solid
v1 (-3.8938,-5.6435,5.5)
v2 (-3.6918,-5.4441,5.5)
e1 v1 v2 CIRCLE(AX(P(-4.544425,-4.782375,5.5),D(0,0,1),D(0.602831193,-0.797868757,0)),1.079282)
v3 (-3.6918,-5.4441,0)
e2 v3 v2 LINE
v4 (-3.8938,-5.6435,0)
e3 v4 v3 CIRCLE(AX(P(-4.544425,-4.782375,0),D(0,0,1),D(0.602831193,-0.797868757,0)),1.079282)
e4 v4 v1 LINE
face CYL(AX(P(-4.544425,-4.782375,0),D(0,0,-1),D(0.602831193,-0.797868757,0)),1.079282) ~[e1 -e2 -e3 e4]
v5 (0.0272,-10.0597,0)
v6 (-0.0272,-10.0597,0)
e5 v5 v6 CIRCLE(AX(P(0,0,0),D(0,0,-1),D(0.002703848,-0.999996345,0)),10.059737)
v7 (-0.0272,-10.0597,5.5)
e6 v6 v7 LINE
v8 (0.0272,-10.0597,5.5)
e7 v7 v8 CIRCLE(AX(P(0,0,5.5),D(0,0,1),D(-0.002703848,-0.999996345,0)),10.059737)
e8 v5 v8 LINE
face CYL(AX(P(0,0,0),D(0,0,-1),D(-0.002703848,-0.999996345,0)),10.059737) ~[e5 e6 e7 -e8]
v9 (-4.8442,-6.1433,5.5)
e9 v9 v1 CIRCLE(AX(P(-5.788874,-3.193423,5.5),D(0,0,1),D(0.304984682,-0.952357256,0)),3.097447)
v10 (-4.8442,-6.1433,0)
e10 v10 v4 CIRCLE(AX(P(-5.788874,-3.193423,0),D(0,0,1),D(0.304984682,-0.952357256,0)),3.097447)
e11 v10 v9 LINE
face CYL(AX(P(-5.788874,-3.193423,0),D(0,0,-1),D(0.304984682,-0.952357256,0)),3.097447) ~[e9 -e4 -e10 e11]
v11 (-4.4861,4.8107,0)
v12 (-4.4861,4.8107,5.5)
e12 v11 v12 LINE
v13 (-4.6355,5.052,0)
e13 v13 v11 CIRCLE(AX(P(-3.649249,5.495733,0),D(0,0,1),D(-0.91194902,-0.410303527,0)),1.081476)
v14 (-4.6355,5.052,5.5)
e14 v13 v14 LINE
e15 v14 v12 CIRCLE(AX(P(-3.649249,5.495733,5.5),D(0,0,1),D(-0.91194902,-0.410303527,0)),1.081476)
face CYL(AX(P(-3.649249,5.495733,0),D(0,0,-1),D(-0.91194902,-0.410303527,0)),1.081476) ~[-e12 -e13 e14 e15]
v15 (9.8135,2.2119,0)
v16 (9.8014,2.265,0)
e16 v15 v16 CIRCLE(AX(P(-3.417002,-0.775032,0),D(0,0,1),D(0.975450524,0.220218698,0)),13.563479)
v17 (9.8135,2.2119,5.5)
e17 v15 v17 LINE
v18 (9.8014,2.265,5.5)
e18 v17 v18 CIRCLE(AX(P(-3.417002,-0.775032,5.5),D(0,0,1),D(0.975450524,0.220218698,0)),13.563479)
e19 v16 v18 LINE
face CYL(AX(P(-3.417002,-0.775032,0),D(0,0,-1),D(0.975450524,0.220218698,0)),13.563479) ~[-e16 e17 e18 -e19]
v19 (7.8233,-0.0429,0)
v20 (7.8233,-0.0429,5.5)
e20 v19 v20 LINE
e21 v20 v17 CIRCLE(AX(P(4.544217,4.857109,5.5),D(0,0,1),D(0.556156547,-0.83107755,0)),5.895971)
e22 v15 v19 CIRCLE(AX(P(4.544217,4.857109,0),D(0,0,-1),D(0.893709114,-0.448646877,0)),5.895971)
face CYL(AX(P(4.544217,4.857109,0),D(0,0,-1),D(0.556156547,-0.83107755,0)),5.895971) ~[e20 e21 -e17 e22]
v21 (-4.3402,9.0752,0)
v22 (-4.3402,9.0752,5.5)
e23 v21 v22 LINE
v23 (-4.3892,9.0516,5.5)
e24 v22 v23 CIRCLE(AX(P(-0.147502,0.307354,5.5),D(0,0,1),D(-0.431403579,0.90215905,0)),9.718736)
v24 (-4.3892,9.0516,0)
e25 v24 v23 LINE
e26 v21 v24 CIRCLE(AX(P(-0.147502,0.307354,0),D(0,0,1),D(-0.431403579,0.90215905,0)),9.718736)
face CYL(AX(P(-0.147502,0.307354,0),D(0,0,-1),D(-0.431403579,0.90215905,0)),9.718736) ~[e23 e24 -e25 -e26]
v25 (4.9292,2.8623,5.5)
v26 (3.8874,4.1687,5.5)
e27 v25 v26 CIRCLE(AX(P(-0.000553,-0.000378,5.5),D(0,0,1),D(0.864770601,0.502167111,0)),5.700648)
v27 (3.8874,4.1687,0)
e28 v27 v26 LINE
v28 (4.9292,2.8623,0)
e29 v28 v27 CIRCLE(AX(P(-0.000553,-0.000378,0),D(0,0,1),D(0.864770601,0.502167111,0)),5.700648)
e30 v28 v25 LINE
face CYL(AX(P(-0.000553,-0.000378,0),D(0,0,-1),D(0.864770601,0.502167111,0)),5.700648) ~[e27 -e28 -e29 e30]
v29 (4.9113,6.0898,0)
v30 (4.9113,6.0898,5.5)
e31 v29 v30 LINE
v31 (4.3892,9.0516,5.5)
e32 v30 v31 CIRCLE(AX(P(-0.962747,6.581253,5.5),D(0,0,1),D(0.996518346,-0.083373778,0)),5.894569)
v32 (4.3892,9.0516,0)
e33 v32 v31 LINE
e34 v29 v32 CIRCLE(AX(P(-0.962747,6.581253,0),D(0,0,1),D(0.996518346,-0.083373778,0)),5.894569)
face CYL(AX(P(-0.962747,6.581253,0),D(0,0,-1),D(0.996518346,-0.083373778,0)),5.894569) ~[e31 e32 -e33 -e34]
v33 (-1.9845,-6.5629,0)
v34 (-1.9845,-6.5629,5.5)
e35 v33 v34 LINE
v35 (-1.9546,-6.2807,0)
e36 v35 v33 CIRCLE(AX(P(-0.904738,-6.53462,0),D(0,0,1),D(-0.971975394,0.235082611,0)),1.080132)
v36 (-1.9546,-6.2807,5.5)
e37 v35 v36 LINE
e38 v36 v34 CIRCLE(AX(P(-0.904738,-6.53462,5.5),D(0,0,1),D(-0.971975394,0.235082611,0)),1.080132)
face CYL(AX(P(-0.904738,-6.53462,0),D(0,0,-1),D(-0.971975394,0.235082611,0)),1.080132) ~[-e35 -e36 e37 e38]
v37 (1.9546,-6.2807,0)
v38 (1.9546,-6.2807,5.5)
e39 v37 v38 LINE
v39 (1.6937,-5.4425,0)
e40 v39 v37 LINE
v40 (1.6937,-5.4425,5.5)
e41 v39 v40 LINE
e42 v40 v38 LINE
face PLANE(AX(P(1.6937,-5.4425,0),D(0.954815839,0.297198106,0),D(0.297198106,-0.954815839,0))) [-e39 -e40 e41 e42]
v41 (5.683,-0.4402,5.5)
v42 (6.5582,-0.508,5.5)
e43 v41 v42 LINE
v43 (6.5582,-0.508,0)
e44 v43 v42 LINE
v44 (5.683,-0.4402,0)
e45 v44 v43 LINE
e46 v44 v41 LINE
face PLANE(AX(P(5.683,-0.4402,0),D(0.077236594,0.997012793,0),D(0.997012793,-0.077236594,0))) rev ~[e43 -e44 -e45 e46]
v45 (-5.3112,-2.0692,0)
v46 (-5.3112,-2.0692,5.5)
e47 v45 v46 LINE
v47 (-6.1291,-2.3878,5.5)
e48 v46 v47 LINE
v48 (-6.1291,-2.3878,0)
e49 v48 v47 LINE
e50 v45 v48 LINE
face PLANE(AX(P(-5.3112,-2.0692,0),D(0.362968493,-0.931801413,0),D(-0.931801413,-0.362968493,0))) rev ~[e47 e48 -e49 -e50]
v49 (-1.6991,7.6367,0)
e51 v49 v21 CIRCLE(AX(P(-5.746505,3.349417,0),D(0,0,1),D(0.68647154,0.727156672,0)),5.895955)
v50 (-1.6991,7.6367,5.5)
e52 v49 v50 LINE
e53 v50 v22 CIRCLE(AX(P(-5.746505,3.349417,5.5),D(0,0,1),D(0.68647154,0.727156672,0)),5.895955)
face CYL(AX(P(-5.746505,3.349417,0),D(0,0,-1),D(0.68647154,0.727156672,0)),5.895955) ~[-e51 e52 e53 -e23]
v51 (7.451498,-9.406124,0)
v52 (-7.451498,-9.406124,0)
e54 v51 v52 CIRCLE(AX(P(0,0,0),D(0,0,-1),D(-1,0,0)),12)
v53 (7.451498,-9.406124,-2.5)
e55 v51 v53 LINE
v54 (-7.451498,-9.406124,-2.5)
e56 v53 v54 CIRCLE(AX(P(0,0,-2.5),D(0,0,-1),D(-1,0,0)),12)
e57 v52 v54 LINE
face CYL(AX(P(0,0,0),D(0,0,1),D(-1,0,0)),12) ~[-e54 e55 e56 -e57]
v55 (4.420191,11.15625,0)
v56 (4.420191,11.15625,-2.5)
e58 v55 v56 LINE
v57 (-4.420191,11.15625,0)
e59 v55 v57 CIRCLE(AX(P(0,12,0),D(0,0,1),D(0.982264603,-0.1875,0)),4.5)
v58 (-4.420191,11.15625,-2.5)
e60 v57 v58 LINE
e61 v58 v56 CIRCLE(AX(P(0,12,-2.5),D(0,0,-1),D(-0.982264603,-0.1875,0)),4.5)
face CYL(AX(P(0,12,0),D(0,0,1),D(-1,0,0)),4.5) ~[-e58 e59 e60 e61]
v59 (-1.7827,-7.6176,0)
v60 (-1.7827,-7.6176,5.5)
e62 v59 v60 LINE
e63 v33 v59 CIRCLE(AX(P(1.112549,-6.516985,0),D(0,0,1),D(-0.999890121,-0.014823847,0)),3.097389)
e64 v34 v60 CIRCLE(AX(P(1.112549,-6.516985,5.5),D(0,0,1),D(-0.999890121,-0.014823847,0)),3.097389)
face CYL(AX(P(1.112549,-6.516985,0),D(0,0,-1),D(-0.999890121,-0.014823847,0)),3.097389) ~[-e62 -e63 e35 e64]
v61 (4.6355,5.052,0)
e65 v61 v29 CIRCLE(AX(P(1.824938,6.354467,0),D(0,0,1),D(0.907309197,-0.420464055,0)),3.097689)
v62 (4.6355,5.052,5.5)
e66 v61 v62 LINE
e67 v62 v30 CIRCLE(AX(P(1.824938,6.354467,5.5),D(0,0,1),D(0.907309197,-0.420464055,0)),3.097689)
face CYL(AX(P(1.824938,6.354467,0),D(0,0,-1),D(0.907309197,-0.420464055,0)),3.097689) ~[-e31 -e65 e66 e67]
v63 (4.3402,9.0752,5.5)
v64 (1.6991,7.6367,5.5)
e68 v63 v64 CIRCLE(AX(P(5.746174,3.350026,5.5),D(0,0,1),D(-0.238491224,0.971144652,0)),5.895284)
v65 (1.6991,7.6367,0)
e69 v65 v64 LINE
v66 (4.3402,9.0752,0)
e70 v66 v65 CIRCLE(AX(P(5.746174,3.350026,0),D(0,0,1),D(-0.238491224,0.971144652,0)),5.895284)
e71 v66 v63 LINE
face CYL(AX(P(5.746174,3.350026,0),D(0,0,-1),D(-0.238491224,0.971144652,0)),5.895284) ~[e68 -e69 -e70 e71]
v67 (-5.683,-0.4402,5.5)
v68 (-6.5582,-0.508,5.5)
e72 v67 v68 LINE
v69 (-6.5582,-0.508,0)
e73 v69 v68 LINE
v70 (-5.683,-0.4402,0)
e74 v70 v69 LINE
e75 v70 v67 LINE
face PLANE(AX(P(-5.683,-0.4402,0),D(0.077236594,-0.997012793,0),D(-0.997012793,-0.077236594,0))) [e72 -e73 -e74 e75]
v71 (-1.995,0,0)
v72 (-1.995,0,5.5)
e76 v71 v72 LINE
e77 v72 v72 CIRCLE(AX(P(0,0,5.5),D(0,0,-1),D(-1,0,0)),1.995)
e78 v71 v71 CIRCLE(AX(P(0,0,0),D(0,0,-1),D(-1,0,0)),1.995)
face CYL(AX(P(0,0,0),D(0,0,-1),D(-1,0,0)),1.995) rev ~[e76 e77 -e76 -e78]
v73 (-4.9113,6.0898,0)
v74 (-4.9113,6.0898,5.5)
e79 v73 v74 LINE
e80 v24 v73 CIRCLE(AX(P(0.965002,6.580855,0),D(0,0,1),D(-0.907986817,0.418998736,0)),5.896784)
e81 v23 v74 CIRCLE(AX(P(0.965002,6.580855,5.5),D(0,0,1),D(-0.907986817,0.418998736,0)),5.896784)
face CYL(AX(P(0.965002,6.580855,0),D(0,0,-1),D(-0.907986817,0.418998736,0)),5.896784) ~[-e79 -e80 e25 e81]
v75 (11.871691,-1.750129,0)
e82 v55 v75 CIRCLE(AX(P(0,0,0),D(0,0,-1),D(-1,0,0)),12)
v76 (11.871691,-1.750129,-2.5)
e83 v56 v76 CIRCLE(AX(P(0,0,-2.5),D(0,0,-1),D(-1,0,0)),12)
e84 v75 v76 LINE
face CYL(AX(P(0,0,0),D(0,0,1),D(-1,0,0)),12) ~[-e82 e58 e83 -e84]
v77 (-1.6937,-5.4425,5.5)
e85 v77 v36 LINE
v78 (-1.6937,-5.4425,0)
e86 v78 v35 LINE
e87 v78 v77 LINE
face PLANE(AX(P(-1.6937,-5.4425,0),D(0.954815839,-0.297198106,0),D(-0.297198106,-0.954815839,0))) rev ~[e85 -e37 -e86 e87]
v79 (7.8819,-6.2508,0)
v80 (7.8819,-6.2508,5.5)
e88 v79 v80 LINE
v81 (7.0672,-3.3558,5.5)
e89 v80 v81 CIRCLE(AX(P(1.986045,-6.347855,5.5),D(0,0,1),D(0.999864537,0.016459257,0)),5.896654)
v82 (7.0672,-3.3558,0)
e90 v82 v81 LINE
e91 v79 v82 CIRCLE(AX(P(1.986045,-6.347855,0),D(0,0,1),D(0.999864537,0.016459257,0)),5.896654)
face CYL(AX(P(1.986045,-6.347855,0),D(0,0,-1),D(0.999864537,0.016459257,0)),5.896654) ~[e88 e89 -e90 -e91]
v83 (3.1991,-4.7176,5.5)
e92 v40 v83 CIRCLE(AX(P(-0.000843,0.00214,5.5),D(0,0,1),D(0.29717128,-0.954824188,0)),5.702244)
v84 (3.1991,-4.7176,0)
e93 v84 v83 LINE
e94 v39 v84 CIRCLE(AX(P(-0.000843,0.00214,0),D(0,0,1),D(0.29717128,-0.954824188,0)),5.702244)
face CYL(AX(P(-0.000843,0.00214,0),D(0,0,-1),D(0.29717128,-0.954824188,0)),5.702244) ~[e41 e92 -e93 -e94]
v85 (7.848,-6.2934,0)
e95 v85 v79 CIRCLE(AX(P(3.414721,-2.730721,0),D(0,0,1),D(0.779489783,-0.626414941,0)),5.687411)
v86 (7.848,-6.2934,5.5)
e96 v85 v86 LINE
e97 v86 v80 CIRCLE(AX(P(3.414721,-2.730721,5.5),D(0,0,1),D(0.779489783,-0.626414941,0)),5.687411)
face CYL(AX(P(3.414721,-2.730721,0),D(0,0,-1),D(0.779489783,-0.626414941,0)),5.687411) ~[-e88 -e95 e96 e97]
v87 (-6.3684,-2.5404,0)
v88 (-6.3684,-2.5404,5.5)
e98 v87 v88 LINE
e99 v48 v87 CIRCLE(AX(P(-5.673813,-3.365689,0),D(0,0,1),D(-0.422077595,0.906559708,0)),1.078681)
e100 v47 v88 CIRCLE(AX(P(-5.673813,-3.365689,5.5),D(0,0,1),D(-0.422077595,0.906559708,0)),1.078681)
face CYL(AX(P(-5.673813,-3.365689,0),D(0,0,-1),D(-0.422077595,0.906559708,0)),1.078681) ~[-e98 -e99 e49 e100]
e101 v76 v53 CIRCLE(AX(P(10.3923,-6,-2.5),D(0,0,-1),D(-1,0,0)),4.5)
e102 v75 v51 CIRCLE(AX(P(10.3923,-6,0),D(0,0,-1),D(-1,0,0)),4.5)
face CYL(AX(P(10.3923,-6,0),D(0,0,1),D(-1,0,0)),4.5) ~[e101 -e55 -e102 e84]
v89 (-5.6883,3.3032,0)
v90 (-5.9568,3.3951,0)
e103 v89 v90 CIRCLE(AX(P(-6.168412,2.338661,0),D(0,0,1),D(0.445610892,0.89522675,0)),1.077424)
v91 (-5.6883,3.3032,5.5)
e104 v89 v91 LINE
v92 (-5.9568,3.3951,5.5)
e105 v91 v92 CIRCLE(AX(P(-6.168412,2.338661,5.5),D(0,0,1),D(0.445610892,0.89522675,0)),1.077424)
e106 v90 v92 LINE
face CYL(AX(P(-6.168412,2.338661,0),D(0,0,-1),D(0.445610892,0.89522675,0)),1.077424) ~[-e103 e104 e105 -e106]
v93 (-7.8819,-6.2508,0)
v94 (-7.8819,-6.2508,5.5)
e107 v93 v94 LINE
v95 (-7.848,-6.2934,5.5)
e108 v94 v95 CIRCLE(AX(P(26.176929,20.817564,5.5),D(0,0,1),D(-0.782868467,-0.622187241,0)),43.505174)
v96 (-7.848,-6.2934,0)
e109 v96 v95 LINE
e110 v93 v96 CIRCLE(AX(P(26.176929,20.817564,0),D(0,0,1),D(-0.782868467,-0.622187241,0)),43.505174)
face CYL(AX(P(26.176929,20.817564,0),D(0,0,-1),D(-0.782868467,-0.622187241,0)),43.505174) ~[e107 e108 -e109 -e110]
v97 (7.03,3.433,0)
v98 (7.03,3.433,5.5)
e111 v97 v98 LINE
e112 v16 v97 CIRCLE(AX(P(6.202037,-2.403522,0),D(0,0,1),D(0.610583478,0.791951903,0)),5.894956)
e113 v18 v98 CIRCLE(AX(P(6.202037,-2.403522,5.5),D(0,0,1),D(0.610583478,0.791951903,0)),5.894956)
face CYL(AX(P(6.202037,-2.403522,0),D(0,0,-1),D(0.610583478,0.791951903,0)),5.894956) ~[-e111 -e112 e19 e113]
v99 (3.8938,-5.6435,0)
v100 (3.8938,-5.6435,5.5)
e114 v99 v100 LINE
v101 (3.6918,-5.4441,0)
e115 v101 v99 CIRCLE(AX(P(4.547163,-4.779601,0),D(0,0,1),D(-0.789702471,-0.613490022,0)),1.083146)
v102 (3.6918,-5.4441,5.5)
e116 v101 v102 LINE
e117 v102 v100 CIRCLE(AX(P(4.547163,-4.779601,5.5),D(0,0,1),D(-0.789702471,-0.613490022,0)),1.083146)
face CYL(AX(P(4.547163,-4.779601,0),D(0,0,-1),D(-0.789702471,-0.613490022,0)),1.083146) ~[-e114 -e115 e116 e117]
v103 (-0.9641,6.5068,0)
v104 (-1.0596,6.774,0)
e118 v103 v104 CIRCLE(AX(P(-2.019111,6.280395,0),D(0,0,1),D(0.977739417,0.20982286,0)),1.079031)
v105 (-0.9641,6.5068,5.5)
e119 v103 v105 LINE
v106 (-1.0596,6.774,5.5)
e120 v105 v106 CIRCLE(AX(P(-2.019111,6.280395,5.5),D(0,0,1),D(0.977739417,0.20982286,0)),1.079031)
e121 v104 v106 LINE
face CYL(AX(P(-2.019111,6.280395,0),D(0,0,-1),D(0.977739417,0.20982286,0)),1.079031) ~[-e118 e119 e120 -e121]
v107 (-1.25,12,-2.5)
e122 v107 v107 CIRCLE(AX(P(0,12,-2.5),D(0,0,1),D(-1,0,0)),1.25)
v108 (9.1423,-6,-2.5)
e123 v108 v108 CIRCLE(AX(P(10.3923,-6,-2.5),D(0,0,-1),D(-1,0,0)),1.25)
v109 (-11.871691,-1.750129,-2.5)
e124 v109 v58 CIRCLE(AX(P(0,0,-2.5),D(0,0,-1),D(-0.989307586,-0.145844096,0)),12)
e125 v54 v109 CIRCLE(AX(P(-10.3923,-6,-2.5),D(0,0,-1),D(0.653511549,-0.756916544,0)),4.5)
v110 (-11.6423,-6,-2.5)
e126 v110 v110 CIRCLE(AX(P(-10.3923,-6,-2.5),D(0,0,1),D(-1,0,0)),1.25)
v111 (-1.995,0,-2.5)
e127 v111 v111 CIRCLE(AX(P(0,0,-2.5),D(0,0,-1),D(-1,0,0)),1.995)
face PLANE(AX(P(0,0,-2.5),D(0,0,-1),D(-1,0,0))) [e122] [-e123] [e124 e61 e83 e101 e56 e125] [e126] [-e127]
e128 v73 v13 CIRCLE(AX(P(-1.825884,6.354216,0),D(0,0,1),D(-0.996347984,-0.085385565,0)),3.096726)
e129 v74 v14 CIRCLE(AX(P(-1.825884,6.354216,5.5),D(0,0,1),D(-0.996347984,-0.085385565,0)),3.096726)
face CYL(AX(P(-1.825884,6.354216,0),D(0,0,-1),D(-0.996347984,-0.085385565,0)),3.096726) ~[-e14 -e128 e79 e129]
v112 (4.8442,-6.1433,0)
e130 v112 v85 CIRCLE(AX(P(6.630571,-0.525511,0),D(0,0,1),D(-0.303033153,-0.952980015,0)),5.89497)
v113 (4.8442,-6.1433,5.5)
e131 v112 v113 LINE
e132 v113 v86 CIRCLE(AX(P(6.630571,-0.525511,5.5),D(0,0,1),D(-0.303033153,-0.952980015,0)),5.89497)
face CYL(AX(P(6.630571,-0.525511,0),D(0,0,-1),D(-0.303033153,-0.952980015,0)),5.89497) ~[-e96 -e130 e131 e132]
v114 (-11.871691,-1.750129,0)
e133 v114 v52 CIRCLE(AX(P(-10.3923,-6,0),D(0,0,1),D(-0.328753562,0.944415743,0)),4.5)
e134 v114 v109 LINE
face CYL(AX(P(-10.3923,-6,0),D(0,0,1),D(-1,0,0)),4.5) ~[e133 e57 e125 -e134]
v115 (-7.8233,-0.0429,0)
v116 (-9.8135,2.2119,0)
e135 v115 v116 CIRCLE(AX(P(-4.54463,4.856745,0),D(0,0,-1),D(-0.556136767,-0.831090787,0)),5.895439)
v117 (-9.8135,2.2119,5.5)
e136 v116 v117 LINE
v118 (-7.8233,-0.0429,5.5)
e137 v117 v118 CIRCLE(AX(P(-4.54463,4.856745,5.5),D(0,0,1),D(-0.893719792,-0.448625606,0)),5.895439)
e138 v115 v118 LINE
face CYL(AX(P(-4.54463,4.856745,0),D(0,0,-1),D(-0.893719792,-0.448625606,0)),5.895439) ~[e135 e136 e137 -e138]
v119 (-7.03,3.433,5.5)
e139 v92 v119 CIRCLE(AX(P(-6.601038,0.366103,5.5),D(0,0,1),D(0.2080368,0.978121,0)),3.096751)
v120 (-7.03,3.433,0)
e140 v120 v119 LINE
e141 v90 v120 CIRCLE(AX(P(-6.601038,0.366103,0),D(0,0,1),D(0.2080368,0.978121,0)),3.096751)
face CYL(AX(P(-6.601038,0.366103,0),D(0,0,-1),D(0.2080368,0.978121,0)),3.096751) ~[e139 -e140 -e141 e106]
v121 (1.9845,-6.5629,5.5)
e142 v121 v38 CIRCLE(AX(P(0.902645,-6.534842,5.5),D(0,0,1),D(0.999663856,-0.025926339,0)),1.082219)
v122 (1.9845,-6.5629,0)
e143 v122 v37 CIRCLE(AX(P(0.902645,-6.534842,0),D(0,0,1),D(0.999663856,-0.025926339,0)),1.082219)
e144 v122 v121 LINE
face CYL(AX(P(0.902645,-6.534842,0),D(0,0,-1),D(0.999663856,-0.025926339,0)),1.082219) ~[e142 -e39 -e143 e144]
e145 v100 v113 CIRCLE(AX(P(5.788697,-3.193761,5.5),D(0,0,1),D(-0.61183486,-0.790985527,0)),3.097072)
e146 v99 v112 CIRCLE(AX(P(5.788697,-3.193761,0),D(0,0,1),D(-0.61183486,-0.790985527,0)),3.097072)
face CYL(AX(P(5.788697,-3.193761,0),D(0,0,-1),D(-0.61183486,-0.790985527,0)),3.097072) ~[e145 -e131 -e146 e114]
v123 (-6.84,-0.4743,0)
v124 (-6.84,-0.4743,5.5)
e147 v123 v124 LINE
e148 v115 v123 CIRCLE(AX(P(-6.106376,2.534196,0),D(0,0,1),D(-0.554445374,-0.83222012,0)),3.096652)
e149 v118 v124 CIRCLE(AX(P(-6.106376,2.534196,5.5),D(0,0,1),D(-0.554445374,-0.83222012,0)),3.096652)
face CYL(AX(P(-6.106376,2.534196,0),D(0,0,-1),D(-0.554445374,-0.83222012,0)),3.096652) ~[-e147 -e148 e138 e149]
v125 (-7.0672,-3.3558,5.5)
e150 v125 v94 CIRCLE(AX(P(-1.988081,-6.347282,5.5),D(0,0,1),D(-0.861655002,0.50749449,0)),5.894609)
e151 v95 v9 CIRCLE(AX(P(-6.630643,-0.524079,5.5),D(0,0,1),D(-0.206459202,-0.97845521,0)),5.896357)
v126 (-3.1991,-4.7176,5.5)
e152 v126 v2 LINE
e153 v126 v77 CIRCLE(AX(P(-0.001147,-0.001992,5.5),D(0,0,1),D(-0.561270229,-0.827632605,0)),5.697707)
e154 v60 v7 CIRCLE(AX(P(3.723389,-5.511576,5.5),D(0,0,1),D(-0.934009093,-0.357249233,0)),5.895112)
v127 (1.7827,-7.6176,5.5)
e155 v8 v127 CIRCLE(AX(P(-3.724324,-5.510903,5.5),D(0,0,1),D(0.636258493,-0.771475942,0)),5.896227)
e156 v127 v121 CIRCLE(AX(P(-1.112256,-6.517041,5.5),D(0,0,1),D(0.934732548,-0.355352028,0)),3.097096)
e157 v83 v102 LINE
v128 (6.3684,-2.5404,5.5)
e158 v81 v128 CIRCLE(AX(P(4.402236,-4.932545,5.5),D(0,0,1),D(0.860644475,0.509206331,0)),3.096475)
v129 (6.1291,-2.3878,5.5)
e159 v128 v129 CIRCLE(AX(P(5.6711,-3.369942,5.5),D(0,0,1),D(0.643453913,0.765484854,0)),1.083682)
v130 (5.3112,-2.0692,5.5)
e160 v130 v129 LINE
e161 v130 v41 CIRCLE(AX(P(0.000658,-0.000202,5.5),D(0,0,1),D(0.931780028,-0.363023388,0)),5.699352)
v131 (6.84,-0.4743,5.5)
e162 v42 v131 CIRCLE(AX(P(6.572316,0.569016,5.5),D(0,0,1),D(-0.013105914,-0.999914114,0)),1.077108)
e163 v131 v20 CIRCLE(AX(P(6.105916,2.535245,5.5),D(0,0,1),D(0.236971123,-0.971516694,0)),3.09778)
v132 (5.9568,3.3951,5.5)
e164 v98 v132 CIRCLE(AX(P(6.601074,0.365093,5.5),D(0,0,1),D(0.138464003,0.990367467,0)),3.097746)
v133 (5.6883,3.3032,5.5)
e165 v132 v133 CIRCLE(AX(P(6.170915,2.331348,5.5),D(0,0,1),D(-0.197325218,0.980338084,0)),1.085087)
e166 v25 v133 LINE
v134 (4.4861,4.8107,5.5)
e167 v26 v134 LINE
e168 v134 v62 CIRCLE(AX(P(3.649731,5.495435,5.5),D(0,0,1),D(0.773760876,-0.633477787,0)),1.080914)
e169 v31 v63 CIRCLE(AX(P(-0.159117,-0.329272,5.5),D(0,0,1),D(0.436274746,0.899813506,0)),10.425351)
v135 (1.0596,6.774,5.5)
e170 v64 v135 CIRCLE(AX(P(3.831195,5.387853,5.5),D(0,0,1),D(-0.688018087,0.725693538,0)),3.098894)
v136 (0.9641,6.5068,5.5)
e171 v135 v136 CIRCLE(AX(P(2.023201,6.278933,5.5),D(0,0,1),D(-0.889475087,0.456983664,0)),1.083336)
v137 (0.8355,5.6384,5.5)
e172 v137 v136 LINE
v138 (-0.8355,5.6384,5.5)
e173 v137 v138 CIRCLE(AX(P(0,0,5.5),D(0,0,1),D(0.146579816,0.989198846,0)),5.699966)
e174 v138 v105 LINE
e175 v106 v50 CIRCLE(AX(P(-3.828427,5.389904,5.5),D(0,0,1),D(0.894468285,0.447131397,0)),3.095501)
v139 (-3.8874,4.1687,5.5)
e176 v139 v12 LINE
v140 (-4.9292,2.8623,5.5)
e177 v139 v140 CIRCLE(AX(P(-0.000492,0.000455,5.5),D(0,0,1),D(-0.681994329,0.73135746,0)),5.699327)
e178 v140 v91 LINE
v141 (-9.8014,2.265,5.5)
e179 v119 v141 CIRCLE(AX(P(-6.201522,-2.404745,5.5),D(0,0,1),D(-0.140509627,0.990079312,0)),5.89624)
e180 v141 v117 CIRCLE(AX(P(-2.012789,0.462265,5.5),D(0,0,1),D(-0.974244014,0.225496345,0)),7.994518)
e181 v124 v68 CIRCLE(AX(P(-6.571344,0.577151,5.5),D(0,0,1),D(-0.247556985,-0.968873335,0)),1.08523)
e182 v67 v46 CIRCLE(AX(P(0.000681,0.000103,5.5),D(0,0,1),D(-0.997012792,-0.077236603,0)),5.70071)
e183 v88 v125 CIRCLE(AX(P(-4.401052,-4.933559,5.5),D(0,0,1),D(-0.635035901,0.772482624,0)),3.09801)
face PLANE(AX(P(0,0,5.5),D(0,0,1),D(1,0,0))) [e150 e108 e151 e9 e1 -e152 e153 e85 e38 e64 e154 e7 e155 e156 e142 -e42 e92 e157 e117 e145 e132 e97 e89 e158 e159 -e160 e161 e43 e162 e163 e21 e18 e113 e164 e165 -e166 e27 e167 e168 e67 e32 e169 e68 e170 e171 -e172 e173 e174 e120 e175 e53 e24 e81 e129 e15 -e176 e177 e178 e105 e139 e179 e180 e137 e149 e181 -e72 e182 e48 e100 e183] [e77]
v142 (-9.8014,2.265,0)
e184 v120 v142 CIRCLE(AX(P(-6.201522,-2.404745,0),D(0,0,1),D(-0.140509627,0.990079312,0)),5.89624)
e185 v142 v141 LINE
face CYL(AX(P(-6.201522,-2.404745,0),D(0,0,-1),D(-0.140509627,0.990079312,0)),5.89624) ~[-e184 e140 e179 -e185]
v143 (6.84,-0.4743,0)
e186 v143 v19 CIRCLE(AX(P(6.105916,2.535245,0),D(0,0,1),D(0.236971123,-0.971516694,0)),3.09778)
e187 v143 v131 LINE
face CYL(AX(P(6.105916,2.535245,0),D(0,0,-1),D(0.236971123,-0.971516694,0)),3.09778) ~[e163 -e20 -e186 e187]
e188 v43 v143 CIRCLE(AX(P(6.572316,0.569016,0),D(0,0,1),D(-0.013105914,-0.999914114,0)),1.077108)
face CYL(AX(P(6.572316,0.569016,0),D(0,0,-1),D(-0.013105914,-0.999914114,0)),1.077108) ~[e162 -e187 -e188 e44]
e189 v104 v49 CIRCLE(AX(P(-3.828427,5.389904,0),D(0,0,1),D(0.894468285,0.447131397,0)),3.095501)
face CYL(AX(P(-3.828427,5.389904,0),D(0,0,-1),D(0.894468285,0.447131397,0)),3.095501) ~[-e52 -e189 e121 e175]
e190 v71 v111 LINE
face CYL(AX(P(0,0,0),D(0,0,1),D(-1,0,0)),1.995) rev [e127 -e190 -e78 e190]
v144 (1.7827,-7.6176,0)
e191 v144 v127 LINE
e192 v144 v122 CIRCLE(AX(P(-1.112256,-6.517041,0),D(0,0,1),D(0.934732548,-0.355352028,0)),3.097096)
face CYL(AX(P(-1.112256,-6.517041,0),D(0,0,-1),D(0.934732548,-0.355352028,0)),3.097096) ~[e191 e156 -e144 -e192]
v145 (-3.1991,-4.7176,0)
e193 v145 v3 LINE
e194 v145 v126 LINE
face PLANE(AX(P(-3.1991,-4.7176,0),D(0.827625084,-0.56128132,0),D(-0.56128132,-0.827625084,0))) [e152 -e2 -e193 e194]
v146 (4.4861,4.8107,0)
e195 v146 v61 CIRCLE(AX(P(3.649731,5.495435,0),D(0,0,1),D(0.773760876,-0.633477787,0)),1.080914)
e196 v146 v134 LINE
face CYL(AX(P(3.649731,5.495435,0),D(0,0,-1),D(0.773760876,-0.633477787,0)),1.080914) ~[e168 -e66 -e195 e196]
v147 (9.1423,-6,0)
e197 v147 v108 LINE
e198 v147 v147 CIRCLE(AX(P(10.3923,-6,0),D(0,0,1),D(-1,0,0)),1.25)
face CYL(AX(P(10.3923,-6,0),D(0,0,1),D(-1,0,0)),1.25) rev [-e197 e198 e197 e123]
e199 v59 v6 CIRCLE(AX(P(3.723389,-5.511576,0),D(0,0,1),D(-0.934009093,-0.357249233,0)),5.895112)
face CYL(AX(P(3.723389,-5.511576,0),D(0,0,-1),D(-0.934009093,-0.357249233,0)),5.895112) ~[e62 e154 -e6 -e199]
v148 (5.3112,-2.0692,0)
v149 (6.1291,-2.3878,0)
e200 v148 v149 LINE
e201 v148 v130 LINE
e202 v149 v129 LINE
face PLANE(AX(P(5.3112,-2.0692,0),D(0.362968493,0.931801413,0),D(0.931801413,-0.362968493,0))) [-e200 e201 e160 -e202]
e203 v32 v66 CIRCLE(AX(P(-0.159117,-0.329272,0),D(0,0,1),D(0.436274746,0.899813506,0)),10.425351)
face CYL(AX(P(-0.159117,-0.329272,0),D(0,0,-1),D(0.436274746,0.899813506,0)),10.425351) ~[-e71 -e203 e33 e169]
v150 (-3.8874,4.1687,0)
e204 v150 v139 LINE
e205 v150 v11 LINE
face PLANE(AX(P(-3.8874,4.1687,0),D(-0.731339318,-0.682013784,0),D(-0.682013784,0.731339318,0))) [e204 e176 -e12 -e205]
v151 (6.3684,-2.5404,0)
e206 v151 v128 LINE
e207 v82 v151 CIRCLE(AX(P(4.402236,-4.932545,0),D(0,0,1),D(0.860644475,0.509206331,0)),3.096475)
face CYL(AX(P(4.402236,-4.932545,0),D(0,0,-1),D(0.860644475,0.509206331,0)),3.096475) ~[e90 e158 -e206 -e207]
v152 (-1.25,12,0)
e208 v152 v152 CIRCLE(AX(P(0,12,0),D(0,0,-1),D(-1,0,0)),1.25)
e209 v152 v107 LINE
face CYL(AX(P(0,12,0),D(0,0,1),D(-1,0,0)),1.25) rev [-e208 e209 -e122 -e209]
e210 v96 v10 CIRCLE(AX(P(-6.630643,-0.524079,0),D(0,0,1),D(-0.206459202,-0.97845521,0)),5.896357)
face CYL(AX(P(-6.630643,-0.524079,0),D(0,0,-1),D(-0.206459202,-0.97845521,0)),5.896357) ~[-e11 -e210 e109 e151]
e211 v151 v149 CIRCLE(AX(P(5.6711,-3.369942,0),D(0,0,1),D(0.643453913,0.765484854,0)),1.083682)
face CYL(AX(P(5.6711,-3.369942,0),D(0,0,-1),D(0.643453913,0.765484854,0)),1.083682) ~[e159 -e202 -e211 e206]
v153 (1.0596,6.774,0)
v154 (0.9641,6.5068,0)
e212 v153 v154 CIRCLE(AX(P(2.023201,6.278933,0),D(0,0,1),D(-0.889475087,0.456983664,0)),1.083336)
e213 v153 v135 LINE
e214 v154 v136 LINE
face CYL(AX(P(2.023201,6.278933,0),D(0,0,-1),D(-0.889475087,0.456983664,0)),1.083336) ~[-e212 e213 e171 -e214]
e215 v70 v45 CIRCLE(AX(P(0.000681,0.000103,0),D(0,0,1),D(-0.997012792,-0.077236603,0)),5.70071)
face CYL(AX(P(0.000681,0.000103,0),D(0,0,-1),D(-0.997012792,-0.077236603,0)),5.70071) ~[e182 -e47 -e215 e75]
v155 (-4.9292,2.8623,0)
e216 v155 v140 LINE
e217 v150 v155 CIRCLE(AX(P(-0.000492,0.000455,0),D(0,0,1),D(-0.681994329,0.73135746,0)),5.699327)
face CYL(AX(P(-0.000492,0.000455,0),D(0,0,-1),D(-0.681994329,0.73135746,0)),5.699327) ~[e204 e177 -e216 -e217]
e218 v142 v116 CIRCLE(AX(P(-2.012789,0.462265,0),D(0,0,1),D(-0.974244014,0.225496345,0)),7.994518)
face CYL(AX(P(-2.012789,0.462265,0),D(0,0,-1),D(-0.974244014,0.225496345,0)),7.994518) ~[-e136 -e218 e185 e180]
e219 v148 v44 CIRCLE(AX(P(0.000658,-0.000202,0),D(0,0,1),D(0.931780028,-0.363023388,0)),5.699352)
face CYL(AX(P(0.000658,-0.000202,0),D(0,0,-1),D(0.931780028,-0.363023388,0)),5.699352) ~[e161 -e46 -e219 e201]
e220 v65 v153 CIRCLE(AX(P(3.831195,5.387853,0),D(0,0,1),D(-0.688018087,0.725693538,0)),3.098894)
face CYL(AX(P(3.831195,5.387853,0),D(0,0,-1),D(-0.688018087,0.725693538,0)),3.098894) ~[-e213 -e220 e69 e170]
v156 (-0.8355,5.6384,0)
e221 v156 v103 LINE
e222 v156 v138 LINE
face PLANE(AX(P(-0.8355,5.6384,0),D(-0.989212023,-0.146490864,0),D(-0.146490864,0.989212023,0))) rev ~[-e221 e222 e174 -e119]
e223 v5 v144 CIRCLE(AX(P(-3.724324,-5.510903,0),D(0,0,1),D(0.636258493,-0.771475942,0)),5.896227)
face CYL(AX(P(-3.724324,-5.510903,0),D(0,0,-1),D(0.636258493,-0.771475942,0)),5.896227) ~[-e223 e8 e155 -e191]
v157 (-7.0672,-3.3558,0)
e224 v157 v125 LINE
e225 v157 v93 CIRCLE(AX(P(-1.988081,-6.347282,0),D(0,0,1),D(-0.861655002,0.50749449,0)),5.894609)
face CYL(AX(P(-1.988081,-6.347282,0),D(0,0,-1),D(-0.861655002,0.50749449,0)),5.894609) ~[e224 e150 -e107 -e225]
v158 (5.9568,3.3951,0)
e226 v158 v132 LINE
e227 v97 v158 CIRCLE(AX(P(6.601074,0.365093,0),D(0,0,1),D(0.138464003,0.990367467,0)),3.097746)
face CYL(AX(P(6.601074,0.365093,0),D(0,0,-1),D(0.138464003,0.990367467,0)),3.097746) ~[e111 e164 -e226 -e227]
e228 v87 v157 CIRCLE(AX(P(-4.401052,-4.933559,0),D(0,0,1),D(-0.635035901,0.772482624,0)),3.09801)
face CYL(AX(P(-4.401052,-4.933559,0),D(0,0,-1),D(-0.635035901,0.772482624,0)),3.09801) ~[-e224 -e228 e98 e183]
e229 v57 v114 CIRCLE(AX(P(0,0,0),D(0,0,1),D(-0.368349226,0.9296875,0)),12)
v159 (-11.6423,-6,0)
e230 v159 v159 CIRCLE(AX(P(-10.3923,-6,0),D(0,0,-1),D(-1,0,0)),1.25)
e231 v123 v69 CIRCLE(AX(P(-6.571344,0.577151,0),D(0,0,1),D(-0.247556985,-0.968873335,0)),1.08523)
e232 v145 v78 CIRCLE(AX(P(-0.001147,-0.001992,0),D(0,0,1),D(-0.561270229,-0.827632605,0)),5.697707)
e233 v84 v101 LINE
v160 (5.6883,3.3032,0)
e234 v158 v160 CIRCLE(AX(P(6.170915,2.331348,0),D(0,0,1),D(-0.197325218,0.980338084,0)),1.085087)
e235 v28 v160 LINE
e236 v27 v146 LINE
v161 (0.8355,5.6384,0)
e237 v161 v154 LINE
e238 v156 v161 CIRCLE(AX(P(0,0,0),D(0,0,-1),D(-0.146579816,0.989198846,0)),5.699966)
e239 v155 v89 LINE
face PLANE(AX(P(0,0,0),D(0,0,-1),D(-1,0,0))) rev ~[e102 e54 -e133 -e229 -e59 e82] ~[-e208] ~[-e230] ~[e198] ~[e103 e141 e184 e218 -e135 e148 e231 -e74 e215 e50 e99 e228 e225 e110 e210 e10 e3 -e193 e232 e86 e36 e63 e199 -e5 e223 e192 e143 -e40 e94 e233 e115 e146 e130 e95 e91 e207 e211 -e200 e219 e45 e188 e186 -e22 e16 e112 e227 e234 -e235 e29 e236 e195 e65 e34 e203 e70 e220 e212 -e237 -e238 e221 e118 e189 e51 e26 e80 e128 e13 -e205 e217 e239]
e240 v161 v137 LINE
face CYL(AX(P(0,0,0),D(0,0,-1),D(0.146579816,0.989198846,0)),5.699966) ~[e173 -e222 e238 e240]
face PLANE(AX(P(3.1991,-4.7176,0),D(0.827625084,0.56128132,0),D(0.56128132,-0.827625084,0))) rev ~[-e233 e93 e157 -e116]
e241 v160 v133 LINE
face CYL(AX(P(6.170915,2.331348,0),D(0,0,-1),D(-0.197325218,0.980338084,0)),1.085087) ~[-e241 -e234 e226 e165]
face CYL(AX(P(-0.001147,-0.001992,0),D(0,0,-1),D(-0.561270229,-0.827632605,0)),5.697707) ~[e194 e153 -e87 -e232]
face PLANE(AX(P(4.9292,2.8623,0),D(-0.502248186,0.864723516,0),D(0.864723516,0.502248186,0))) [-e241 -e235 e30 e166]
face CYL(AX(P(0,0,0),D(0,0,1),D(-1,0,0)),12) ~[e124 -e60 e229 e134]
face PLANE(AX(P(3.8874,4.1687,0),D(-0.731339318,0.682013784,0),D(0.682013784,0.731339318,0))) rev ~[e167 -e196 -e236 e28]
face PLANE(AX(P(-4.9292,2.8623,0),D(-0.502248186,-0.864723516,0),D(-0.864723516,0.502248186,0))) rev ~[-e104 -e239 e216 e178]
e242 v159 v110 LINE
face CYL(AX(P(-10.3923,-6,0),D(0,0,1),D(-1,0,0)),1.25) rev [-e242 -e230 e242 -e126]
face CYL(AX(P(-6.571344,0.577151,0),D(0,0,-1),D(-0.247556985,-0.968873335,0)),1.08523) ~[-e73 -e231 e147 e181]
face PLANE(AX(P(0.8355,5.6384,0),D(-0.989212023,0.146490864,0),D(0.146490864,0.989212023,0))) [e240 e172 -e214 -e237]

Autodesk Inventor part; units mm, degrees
ref_plane "YZ Plane" through (0, 0, 0) normal (1, 0, 0) x (0, 1, 0)
ref_plane "XZ Plane" through (0, 0, 0) normal (0, 1, 0) x (-1, 0, 0)
ref_plane "XY Plane" through (0, 0, 0) normal (0, 0, 1) x (1, 0, 0)
sketch "スケッチ1" plane through (0, 0, 0) normal (0, 0, 1) x (1, 0, 0)
  arc A0 (1.0596, 6.774) -> (0.9641, 6.5068) centre (2.0212, 6.2798) ccw
  arc A1 (1.6991, 7.6367) -> (1.0596, 6.774) centre (3.8299, 5.389) ccw
  arc A2 (4.3402, 9.0752) -> (1.6991, 7.6367) centre (5.7463, 3.3497) ccw
  arc A3 (-4.6355, 5.052) -> (-4.4861, 4.8107) centre (-3.6495, 5.4956) ccw
  arc A4 (-4.9113, 6.0898) -> (-4.6355, 5.052) centre (-1.8254, 6.3543) ccw
  arc A5 (-4.3892, 9.0516) -> (-4.9113, 6.0898) centre (0.9639, 6.5812) ccw
  arc A6 (-6.84, -0.4743) -> (-6.5582, -0.508) centre (-6.5721, 0.5731) ccw
  arc A7 (-7.8233, -0.0429) -> (-6.84, -0.4743) centre (-6.1061, 2.5347) ccw
  arc A8 (-9.8135, 2.2119) -> (-7.8233, -0.0429) centre (-4.5444, 4.8569) ccw
  arc A9 (-3.8938, -5.6435) -> (-3.6918, -5.4441) centre (-4.5457, -4.7809) ccw
  arc A10 (-4.8442, -6.1433) -> (-3.8938, -5.6435) centre (-5.7888, -3.1936) ccw
  arc A11 (-7.848, -6.2934) -> (-4.8442, -6.1433) centre (-6.6307, -0.5248) ccw
  arc A12 (1.9845, -6.5629) -> (1.9546, -6.2807) centre (0.9037, -6.5348) ccw
  arc A13 (1.7827, -7.6176) -> (1.9845, -6.5629) centre (-1.1124, -6.517) ccw
  arc A14 (0.0272, -10.0597) -> (1.7827, -7.6176) centre (-3.7239, -5.5113) ccw
  arc A15 (6.3684, -2.5404) -> (6.1291, -2.3878) centre (5.6726, -3.3679) ccw
  arc A16 (7.0672, -3.3558) -> (6.3684, -2.5404) centre (4.4016, -4.933) ccw
  arc A17 (7.8819, -6.2508) -> (7.0672, -3.3558) centre (1.9871, -6.3477) ccw
  arc A18 (5.9568, 3.3951) -> (5.6883, 3.3032) centre (6.1699, 2.3351) ccw
  arc A19 (7.03, 3.433) -> (5.9568, 3.3951) centre (6.6011, 0.3656) ccw
  arc A20 (9.8014, 2.265) -> (7.03, 3.433) centre (6.2017, -2.4041) ccw
  arc A21 (-0.9641, 6.5068) -> (-1.0596, 6.774) centre (-2.0212, 6.2798) ccw
  arc A22 (-1.0596, 6.774) -> (-1.6991, 7.6367) centre (-3.8299, 5.389) ccw
  arc A23 (-1.6991, 7.6367) -> (-4.3402, 9.0752) centre (-5.7463, 3.3497) ccw
  arc A24 (-5.6883, 3.3032) -> (-5.9568, 3.3951) centre (-6.1699, 2.3351) ccw
  arc A25 (-5.9568, 3.3951) -> (-7.03, 3.433) centre (-6.6011, 0.3656) ccw
  arc A26 (-7.03, 3.433) -> (-9.8014, 2.265) centre (-6.2017, -2.4041) ccw
  arc A27 (-6.1291, -2.3878) -> (-6.3684, -2.5404) centre (-5.6726, -3.3679) ccw
  arc A28 (-6.3684, -2.5404) -> (-7.0672, -3.3558) centre (-4.4016, -4.933) ccw
  arc A29 (-7.0672, -3.3558) -> (-7.8819, -6.2508) centre (-1.9871, -6.3477) ccw
  arc A30 (-1.9546, -6.2807) -> (-1.9845, -6.5629) centre (-0.9037, -6.5348) ccw
  arc A31 (-1.9845, -6.5629) -> (-1.7827, -7.6176) centre (1.1124, -6.517) ccw
  arc A32 (-1.7827, -7.6176) -> (-0.0272, -10.0597) centre (3.7239, -5.5113) ccw
  arc A33 (3.6918, -5.4441) -> (3.8938, -5.6435) centre (4.5457, -4.7809) ccw
  arc A34 (3.8938, -5.6435) -> (4.8442, -6.1433) centre (5.7888, -3.1936) ccw
  arc A35 (4.8442, -6.1433) -> (7.848, -6.2934) centre (6.6307, -0.5248) ccw
  arc A36 (6.5582, -0.508) -> (6.84, -0.4743) centre (6.5721, 0.5731) ccw
  arc A37 (6.84, -0.4743) -> (7.8233, -0.0429) centre (6.1061, 2.5347) ccw
  arc A38 (7.8233, -0.0429) -> (9.8135, 2.2119) centre (4.5444, 4.8569) ccw
  arc A39 (4.4861, 4.8107) -> (4.6355, 5.052) centre (3.6495, 5.4956) ccw
  arc A40 (4.6355, 5.052) -> (4.9113, 6.0898) centre (1.8254, 6.3543) ccw
  arc A41 (4.9113, 6.0898) -> (4.3892, 9.0516) centre (-0.9639, 6.5812) ccw
  arc A42 (0.8355, 5.6384) -> (-0.8355, 5.6384) centre (0, 0) ccw
  arc A43 (-3.8874, 4.1687) -> (-4.9292, 2.8623) centre (0, 0) ccw
  arc A44 (-5.683, -0.4402) -> (-5.3112, -2.0692) centre (0, 0) ccw
  arc A45 (-3.1991, -4.7176) -> (-1.6937, -5.4425) centre (0, 0) ccw
  arc A46 (1.6937, -5.4425) -> (3.1991, -4.7176) centre (0, 0) ccw
  arc A47 (5.3112, -2.0692) -> (5.683, -0.4402) centre (0, 0) ccw
  arc A48 (4.9292, 2.8623) -> (3.8874, 4.1687) centre (0, 0) ccw
  arc A49 (-4.3402, 9.0752) -> (-4.3892, 9.0516) centre (0, 0) ccw
  arc A50 (-9.8014, 2.265) -> (-9.8135, 2.2119) centre (0, 0) ccw
  arc A51 (-7.8819, -6.2508) -> (-7.848, -6.2934) centre (0, 0) ccw
  arc A52 (-0.0272, -10.0597) -> (0.0272, -10.0597) centre (0, 0) ccw
  arc A53 (7.848, -6.2934) -> (7.8819, -6.2508) centre (0, 0) ccw
  arc A54 (9.8135, 2.2119) -> (9.8014, 2.265) centre (0, 0) ccw
  arc A55 (4.3892, 9.0516) -> (4.3402, 9.0752) centre (0, 0) ccw
  line L0 (0.8355, 5.6384) -> (0.9641, 6.5068)
  line L1 (-3.8874, 4.1687) -> (-4.4861, 4.8107)
  line L2 (-5.683, -0.4402) -> (-6.5582, -0.508)
  line L3 (-3.1991, -4.7176) -> (-3.6918, -5.4441)
  line L4 (1.6937, -5.4425) -> (1.9546, -6.2807)
  line L5 (5.3112, -2.0692) -> (6.1291, -2.3878)
  line L6 (4.9292, 2.8623) -> (5.6883, 3.3032)
  line L7 (-0.8355, 5.6384) -> (-0.9641, 6.5068)
  line L8 (-4.9292, 2.8623) -> (-5.6883, 3.3032)
  line L9 (-5.3112, -2.0692) -> (-6.1291, -2.3878)
  line L10 (-1.6937, -5.4425) -> (-1.9546, -6.2807)
  line L11 (3.1991, -4.7176) -> (3.6918, -5.4441)
  line L12 (5.683, -0.4402) -> (6.5582, -0.508)
  line L13 (3.8874, 4.1687) -> (4.4861, 4.8107)
  line L14 (-12.0597, 0) -> (12.0597, 0)
  line L15 (0, -12.0597) -> (0, 12.0597)
  line L16 (30.0597, 10.0597) -> (100.0597, 10.0597)
  line L17 (30.0597, 2.0597) -> (100.0597, 2.0597)
  line L18 (30.0597, -5.9403) -> (100.0597, -5.9403)
  line L19 (30.0597, -13.9403) -> (100.0597, -13.9403)
  line L20 (30.0597, -21.9403) -> (100.0597, -21.9403)
  line L21 (30.0597, -29.9403) -> (100.0597, -29.9403)
  line L22 (30.0597, -37.9403) -> (100.0597, -37.9403)
  line L23 (30.0597, -45.9403) -> (100.0597, -45.9403)
  line L24 (30.0597, -53.9403) -> (100.0597, -53.9403)
  line L25 (30.0597, -61.9403) -> (100.0597, -61.9403)
  line L26 (30.0597, -69.9403) -> (100.0597, -69.9403)
  line L27 (30.0597, -77.9403) -> (100.0597, -77.9403)
  line L28 (30.0597, -85.9403) -> (100.0597, -85.9403)
  line L29 (30.0597, 10.0597) -> (30.0597, -85.9403)
  line L30 (100.0597, 10.0597) -> (100.0597, -85.9403)
  line L31 (65.0597, 2.0597) -> (65.0597, -85.9403)
  point P0 (0, 0)
  point P1 (36.0597, 4.0597)
  point P2 (38.5597, -3.9403)
  point P3 (38.5597, -11.9403)
  point P4 (36.0597, -19.9403)
  point P5 (38.5597, -27.9403)
  point P6 (33.5597, -35.9403)
  point P7 (36.0597, -43.9403)
  point P8 (36.0597, -51.9403)
  point P9 (36.0597, -59.9403)
  point P10 (38.5597, -67.9403)
  point P11 (38.5597, -75.9403)
  point P12 (36.0597, -83.9403)
  point P13 (66.0597, -3.9403)
  point P14 (82.3097, -11.9403)
  point P15 (82.3097, -19.9403)
  point P16 (78.5597, -27.9403)
  point P17 (81.0597, -35.9403)
  point P18 (74.8097, -43.9403)
  point P19 (74.8097, -51.9403)
  point P20 (78.5597, -59.9403)
  point P21 (76.0597, -67.9403)
  point P22 (1, 25.5597)
  point P23 (1, 19.5597)
  point P24 (18.25, 25.5597)
  point P25 (20.375, 19.5597)
extrude "押し出し1" add sketch "スケッチ1" along normal blind 5.5 contours A1 A2 A55 A41 A40 A39 L13 A48 L6 A18 A19 A20 A54 A38 L14 L15 A42 L0 A0 | L15 L14 A8 A50 A26 A25 A24 L8 A43 L1 A3 A4 A5 A49 A23 A22 A21 L7 A42 | L15 A52 A32 A31 A30 L10 A45 L3 A9 A10 A11 A51 A29 A28 A27 L9 A44 L2 A6 A7 A8 L14 | L14 A38 A37 A36 L12 A47 L5 A15 A16 A17 A53 A35 A34 A33 L11 A46 L4 A12 A13 A14 A52 L15
sketch "スケッチ2" plane through (0, 0, 0) normal (0, 0, -1) x (-1, 0, 0)
  circle A0 centre (0, 0) radius 1.995
  line L0 (0, 12) -> (10.3923, -6) construction
  line L1 (10.3923, -6) -> (-10.3923, -6) construction
  line L2 (-10.3923, -6) -> (0, 12) construction
  circle A1 centre (-10.3923, -6) radius 1.25
  circle A2 centre (0, 12) radius 1.25
  circle A3 centre (10.3923, -6) radius 1.25
  arc A4 (-4.3402, 9.0752) -> (-4.3892, 9.0516) centre (0, 0) ccw projected
  circle A5 centre (0, 0) radius 10.0597 construction
  circle A6 centre (0, 0) radius 12
  circle A7 centre (0, 12) radius 4.5
  circle A8 centre (10.3923, -6) radius 4.5
  circle A9 centre (-10.3923, -6) radius 4.5
  circle A10 centre (0, 0) radius 16.5 construction
  point P0 (-11.8717, -1.7501)
  point P1 (-7.4515, -9.4061)
  point P2 (9.7118, -7.0485)
  point P3 (10.9601, -4.8864)
  point P4 (1.2483, 11.9349)
  point P5 (-1.2483, 11.9349)
  point P6 (11.8717, -1.7501)
  point P7 (7.4515, -9.4061)
  point P8 (-4.4202, 11.1563)
  point P9 (4.4202, 11.1563)
  dimension "d2" = 3.99
  dimension "d3" = 2.5
  dimension "d4" = 2.5
  dimension "d5" = 2.5
  dimension "d6" = 12
  dimension "d14" = 9
  dimension "d15" = 9
  dimension "d16" = 9
extrude "押し出し2" add sketch "スケッチ2" along normal blind 2.5 contours A1 A6 A9 | A1 A6 A9 | A6 A7 A8 A9 | A7 A6 A2 | A6 A2 A7 | A8 A6 A3 | A6 A3 A8
sketch "スケッチ3" plane through (0, 0, 0) normal (0, 0, -1) x (-1, 0, 0)
  circle A0 centre (0, 0) radius 1.995 projected
extrude "押し出し3" cut sketch "スケッチ3" against normal through all
sketch "スケッチ4" plane through (0, 0, 5.5) normal (0, 0, 1) x (1, 0, 0)
  arc A0 (11.8717, -1.7501) -> (4.4202, 11.1563) centre (0, 0) ccw projected
  arc A1 (4.4202, 11.1563) -> (-4.4202, 11.1563) centre (0, 12) ccw projected
  arc A2 (-4.4202, 11.1563) -> (-11.8717, -1.7501) centre (0, 0) ccw projected
  arc A3 (-11.8717, -1.7501) -> (-7.4515, -9.4061) centre (-10.3923, -6) ccw projected
  arc A4 (-7.4515, -9.4061) -> (7.4515, -9.4061) centre (0, 0) ccw projected
  arc A5 (7.4515, -9.4061) -> (11.8717, -1.7501) centre (10.3923, -6) ccw projected
  circle A6 centre (0, 12) radius 1.25 projected
  circle A7 centre (10.3923, -6) radius 1.25 projected
  circle A8 centre (-10.3923, -6) radius 1.25 projected
  arc A9 (7.848, -6.2934) -> (7.8819, -6.2508) centre (0, 0) ccw projected
  arc A10 (4.8442, -6.1433) -> (7.848, -6.2934) centre (6.6307, -0.5248) ccw projected
  arc A11 (3.8938, -5.6435) -> (4.8442, -6.1433) centre (5.7888, -3.1936) ccw projected
  arc A12 (3.6918, -5.4441) -> (3.8938, -5.6435) centre (4.5457, -4.7809) ccw projected
  line L0 (3.1991, -4.7176) -> (3.6918, -5.4441) projected
  arc A13 (1.6937, -5.4425) -> (3.1991, -4.7176) centre (0, 0) ccw projected
  line L1 (1.9546, -6.2807) -> (1.6937, -5.4425) projected
  arc A14 (1.9845, -6.5629) -> (1.9546, -6.2807) centre (0.9037, -6.5348) ccw projected
  arc A15 (1.7827, -7.6176) -> (1.9845, -6.5629) centre (-1.1124, -6.517) ccw projected
  arc A16 (0.0272, -10.0597) -> (1.7827, -7.6176) centre (-3.7239, -5.5113) ccw projected
  arc A17 (-0.0272, -10.0597) -> (0.0272, -10.0597) centre (0, 0) ccw projected
  arc A18 (-1.7827, -7.6176) -> (-0.0272, -10.0597) centre (3.7239, -5.5113) ccw projected
  arc A19 (-1.9845, -6.5629) -> (-1.7827, -7.6176) centre (1.1124, -6.517) ccw projected
  arc A20 (-1.9546, -6.2807) -> (-1.9845, -6.5629) centre (-0.9037, -6.5348) ccw projected
  line L2 (-1.6937, -5.4425) -> (-1.9546, -6.2807) projected
  arc A21 (-3.1991, -4.7176) -> (-1.6937, -5.4425) centre (0, 0) ccw projected
  line L3 (-3.6918, -5.4441) -> (-3.1991, -4.7176) projected
  arc A22 (-3.8938, -5.6435) -> (-3.6918, -5.4441) centre (-4.5457, -4.7809) ccw projected
  arc A23 (-4.8442, -6.1433) -> (-3.8938, -5.6435) centre (-5.7888, -3.1936) ccw projected
  arc A24 (-7.848, -6.2934) -> (-4.8442, -6.1433) centre (-6.6307, -0.5248) ccw projected
  arc A25 (-7.8819, -6.2508) -> (-7.848, -6.2934) centre (0, 0) ccw projected
  arc A26 (-7.0672, -3.3558) -> (-7.8819, -6.2508) centre (-1.9871, -6.3477) ccw projected
  arc A27 (-6.3684, -2.5404) -> (-7.0672, -3.3558) centre (-4.4016, -4.933) ccw projected
  arc A28 (-6.1291, -2.3878) -> (-6.3684, -2.5404) centre (-5.6726, -3.3679) ccw projected
  line L4 (-5.3112, -2.0692) -> (-6.1291, -2.3878) projected
  arc A29 (-5.683, -0.4402) -> (-5.3112, -2.0692) centre (0, 0) ccw projected
  line L5 (-6.5582, -0.508) -> (-5.683, -0.4402) projected
  arc A30 (-6.84, -0.4743) -> (-6.5582, -0.508) centre (-6.5721, 0.5731) ccw projected
  arc A31 (-7.8233, -0.0429) -> (-6.84, -0.4743) centre (-6.1061, 2.5347) ccw projected
  arc A32 (-9.8135, 2.2119) -> (-7.8233, -0.0429) centre (-4.5444, 4.8569) ccw projected
  arc A33 (-9.8014, 2.265) -> (-9.8135, 2.2119) centre (0, 0) ccw projected
  arc A34 (-7.03, 3.433) -> (-9.8014, 2.265) centre (-6.2017, -2.4041) ccw projected
  arc A35 (-5.9568, 3.3951) -> (-7.03, 3.433) centre (-6.6011, 0.3656) ccw projected
  arc A36 (-5.6883, 3.3032) -> (-5.9568, 3.3951) centre (-6.1699, 2.3351) ccw projected
  line L6 (-4.9292, 2.8623) -> (-5.6883, 3.3032) projected
  arc A37 (-3.8874, 4.1687) -> (-4.9292, 2.8623) centre (0, 0) ccw projected
  line L7 (-4.4861, 4.8107) -> (-3.8874, 4.1687) projected
  arc A38 (-4.6355, 5.052) -> (-4.4861, 4.8107) centre (-3.6495, 5.4956) ccw projected
  arc A39 (-4.9113, 6.0898) -> (-4.6355, 5.052) centre (-1.8254, 6.3543) ccw projected
  arc A40 (-4.3892, 9.0516) -> (-4.9113, 6.0898) centre (0.9639, 6.5812) ccw projected
  arc A41 (-4.3402, 9.0752) -> (-4.3892, 9.0516) centre (0, 0) ccw projected
  arc A42 (-1.6991, 7.6367) -> (-4.3402, 9.0752) centre (-5.7463, 3.3497) ccw projected
  arc A43 (-1.0596, 6.774) -> (-1.6991, 7.6367) centre (-3.8299, 5.389) ccw projected
  arc A44 (-0.9641, 6.5068) -> (-1.0596, 6.774) centre (-2.0212, 6.2798) ccw projected
  line L8 (-0.8355, 5.6384) -> (-0.9641, 6.5068) projected
  arc A45 (0.8355, 5.6384) -> (-0.8355, 5.6384) centre (0, 0) ccw projected
  line L9 (0.9641, 6.5068) -> (0.8355, 5.6384) projected
  arc A46 (1.0596, 6.774) -> (0.9641, 6.5068) centre (2.0212, 6.2798) ccw projected
  arc A47 (1.6991, 7.6367) -> (1.0596, 6.774) centre (3.8299, 5.389) ccw projected
  arc A48 (4.3402, 9.0752) -> (1.6991, 7.6367) centre (5.7463, 3.3497) ccw projected
  arc A49 (4.3892, 9.0516) -> (4.3402, 9.0752) centre (0, 0) ccw projected
  arc A50 (4.9113, 6.0898) -> (4.3892, 9.0516) centre (-0.9639, 6.5812) ccw projected
  arc A51 (4.6355, 5.052) -> (4.9113, 6.0898) centre (1.8254, 6.3543) ccw projected
  arc A52 (4.4861, 4.8107) -> (4.6355, 5.052) centre (3.6495, 5.4956) ccw projected
  line L10 (3.8874, 4.1687) -> (4.4861, 4.8107) projected
  arc A53 (4.9292, 2.8623) -> (3.8874, 4.1687) centre (0, 0) ccw projected
  line L11 (5.6883, 3.3032) -> (4.9292, 2.8623) projected
  arc A54 (5.9568, 3.3951) -> (5.6883, 3.3032) centre (6.1699, 2.3351) ccw projected
  arc A55 (7.03, 3.433) -> (5.9568, 3.3951) centre (6.6011, 0.3656) ccw projected
  arc A56 (9.8014, 2.265) -> (7.03, 3.433) centre (6.2017, -2.4041) ccw projected
  arc A57 (9.8135, 2.2119) -> (9.8014, 2.265) centre (0, 0) ccw projected
  arc A58 (7.8233, -0.0429) -> (9.8135, 2.2119) centre (4.5444, 4.8569) ccw projected
  arc A59 (6.84, -0.4743) -> (7.8233, -0.0429) centre (6.1061, 2.5347) ccw projected
  arc A60 (6.5582, -0.508) -> (6.84, -0.4743) centre (6.5721, 0.5731) ccw projected
  line L12 (5.683, -0.4402) -> (6.5582, -0.508) projected
  arc A61 (5.3112, -2.0692) -> (5.683, -0.4402) centre (0, 0) ccw projected
  line L13 (6.1291, -2.3878) -> (5.3112, -2.0692) projected
  arc A62 (6.3684, -2.5404) -> (6.1291, -2.3878) centre (5.6726, -3.3679) ccw projected
  arc A63 (7.0672, -3.3558) -> (6.3684, -2.5404) centre (4.4016, -4.933) ccw projected
  arc A64 (7.8819, -6.2508) -> (7.0672, -3.3558) centre (1.9871, -6.3477) ccw projected
  circle A65 centre (0, 0) radius 1.995 projected
equation "\"d4\" = d3"
equation "\"d5\" = d4"
properties part number "歯車m2.z7(z19)" material "アルミニウム 2014-T4"
